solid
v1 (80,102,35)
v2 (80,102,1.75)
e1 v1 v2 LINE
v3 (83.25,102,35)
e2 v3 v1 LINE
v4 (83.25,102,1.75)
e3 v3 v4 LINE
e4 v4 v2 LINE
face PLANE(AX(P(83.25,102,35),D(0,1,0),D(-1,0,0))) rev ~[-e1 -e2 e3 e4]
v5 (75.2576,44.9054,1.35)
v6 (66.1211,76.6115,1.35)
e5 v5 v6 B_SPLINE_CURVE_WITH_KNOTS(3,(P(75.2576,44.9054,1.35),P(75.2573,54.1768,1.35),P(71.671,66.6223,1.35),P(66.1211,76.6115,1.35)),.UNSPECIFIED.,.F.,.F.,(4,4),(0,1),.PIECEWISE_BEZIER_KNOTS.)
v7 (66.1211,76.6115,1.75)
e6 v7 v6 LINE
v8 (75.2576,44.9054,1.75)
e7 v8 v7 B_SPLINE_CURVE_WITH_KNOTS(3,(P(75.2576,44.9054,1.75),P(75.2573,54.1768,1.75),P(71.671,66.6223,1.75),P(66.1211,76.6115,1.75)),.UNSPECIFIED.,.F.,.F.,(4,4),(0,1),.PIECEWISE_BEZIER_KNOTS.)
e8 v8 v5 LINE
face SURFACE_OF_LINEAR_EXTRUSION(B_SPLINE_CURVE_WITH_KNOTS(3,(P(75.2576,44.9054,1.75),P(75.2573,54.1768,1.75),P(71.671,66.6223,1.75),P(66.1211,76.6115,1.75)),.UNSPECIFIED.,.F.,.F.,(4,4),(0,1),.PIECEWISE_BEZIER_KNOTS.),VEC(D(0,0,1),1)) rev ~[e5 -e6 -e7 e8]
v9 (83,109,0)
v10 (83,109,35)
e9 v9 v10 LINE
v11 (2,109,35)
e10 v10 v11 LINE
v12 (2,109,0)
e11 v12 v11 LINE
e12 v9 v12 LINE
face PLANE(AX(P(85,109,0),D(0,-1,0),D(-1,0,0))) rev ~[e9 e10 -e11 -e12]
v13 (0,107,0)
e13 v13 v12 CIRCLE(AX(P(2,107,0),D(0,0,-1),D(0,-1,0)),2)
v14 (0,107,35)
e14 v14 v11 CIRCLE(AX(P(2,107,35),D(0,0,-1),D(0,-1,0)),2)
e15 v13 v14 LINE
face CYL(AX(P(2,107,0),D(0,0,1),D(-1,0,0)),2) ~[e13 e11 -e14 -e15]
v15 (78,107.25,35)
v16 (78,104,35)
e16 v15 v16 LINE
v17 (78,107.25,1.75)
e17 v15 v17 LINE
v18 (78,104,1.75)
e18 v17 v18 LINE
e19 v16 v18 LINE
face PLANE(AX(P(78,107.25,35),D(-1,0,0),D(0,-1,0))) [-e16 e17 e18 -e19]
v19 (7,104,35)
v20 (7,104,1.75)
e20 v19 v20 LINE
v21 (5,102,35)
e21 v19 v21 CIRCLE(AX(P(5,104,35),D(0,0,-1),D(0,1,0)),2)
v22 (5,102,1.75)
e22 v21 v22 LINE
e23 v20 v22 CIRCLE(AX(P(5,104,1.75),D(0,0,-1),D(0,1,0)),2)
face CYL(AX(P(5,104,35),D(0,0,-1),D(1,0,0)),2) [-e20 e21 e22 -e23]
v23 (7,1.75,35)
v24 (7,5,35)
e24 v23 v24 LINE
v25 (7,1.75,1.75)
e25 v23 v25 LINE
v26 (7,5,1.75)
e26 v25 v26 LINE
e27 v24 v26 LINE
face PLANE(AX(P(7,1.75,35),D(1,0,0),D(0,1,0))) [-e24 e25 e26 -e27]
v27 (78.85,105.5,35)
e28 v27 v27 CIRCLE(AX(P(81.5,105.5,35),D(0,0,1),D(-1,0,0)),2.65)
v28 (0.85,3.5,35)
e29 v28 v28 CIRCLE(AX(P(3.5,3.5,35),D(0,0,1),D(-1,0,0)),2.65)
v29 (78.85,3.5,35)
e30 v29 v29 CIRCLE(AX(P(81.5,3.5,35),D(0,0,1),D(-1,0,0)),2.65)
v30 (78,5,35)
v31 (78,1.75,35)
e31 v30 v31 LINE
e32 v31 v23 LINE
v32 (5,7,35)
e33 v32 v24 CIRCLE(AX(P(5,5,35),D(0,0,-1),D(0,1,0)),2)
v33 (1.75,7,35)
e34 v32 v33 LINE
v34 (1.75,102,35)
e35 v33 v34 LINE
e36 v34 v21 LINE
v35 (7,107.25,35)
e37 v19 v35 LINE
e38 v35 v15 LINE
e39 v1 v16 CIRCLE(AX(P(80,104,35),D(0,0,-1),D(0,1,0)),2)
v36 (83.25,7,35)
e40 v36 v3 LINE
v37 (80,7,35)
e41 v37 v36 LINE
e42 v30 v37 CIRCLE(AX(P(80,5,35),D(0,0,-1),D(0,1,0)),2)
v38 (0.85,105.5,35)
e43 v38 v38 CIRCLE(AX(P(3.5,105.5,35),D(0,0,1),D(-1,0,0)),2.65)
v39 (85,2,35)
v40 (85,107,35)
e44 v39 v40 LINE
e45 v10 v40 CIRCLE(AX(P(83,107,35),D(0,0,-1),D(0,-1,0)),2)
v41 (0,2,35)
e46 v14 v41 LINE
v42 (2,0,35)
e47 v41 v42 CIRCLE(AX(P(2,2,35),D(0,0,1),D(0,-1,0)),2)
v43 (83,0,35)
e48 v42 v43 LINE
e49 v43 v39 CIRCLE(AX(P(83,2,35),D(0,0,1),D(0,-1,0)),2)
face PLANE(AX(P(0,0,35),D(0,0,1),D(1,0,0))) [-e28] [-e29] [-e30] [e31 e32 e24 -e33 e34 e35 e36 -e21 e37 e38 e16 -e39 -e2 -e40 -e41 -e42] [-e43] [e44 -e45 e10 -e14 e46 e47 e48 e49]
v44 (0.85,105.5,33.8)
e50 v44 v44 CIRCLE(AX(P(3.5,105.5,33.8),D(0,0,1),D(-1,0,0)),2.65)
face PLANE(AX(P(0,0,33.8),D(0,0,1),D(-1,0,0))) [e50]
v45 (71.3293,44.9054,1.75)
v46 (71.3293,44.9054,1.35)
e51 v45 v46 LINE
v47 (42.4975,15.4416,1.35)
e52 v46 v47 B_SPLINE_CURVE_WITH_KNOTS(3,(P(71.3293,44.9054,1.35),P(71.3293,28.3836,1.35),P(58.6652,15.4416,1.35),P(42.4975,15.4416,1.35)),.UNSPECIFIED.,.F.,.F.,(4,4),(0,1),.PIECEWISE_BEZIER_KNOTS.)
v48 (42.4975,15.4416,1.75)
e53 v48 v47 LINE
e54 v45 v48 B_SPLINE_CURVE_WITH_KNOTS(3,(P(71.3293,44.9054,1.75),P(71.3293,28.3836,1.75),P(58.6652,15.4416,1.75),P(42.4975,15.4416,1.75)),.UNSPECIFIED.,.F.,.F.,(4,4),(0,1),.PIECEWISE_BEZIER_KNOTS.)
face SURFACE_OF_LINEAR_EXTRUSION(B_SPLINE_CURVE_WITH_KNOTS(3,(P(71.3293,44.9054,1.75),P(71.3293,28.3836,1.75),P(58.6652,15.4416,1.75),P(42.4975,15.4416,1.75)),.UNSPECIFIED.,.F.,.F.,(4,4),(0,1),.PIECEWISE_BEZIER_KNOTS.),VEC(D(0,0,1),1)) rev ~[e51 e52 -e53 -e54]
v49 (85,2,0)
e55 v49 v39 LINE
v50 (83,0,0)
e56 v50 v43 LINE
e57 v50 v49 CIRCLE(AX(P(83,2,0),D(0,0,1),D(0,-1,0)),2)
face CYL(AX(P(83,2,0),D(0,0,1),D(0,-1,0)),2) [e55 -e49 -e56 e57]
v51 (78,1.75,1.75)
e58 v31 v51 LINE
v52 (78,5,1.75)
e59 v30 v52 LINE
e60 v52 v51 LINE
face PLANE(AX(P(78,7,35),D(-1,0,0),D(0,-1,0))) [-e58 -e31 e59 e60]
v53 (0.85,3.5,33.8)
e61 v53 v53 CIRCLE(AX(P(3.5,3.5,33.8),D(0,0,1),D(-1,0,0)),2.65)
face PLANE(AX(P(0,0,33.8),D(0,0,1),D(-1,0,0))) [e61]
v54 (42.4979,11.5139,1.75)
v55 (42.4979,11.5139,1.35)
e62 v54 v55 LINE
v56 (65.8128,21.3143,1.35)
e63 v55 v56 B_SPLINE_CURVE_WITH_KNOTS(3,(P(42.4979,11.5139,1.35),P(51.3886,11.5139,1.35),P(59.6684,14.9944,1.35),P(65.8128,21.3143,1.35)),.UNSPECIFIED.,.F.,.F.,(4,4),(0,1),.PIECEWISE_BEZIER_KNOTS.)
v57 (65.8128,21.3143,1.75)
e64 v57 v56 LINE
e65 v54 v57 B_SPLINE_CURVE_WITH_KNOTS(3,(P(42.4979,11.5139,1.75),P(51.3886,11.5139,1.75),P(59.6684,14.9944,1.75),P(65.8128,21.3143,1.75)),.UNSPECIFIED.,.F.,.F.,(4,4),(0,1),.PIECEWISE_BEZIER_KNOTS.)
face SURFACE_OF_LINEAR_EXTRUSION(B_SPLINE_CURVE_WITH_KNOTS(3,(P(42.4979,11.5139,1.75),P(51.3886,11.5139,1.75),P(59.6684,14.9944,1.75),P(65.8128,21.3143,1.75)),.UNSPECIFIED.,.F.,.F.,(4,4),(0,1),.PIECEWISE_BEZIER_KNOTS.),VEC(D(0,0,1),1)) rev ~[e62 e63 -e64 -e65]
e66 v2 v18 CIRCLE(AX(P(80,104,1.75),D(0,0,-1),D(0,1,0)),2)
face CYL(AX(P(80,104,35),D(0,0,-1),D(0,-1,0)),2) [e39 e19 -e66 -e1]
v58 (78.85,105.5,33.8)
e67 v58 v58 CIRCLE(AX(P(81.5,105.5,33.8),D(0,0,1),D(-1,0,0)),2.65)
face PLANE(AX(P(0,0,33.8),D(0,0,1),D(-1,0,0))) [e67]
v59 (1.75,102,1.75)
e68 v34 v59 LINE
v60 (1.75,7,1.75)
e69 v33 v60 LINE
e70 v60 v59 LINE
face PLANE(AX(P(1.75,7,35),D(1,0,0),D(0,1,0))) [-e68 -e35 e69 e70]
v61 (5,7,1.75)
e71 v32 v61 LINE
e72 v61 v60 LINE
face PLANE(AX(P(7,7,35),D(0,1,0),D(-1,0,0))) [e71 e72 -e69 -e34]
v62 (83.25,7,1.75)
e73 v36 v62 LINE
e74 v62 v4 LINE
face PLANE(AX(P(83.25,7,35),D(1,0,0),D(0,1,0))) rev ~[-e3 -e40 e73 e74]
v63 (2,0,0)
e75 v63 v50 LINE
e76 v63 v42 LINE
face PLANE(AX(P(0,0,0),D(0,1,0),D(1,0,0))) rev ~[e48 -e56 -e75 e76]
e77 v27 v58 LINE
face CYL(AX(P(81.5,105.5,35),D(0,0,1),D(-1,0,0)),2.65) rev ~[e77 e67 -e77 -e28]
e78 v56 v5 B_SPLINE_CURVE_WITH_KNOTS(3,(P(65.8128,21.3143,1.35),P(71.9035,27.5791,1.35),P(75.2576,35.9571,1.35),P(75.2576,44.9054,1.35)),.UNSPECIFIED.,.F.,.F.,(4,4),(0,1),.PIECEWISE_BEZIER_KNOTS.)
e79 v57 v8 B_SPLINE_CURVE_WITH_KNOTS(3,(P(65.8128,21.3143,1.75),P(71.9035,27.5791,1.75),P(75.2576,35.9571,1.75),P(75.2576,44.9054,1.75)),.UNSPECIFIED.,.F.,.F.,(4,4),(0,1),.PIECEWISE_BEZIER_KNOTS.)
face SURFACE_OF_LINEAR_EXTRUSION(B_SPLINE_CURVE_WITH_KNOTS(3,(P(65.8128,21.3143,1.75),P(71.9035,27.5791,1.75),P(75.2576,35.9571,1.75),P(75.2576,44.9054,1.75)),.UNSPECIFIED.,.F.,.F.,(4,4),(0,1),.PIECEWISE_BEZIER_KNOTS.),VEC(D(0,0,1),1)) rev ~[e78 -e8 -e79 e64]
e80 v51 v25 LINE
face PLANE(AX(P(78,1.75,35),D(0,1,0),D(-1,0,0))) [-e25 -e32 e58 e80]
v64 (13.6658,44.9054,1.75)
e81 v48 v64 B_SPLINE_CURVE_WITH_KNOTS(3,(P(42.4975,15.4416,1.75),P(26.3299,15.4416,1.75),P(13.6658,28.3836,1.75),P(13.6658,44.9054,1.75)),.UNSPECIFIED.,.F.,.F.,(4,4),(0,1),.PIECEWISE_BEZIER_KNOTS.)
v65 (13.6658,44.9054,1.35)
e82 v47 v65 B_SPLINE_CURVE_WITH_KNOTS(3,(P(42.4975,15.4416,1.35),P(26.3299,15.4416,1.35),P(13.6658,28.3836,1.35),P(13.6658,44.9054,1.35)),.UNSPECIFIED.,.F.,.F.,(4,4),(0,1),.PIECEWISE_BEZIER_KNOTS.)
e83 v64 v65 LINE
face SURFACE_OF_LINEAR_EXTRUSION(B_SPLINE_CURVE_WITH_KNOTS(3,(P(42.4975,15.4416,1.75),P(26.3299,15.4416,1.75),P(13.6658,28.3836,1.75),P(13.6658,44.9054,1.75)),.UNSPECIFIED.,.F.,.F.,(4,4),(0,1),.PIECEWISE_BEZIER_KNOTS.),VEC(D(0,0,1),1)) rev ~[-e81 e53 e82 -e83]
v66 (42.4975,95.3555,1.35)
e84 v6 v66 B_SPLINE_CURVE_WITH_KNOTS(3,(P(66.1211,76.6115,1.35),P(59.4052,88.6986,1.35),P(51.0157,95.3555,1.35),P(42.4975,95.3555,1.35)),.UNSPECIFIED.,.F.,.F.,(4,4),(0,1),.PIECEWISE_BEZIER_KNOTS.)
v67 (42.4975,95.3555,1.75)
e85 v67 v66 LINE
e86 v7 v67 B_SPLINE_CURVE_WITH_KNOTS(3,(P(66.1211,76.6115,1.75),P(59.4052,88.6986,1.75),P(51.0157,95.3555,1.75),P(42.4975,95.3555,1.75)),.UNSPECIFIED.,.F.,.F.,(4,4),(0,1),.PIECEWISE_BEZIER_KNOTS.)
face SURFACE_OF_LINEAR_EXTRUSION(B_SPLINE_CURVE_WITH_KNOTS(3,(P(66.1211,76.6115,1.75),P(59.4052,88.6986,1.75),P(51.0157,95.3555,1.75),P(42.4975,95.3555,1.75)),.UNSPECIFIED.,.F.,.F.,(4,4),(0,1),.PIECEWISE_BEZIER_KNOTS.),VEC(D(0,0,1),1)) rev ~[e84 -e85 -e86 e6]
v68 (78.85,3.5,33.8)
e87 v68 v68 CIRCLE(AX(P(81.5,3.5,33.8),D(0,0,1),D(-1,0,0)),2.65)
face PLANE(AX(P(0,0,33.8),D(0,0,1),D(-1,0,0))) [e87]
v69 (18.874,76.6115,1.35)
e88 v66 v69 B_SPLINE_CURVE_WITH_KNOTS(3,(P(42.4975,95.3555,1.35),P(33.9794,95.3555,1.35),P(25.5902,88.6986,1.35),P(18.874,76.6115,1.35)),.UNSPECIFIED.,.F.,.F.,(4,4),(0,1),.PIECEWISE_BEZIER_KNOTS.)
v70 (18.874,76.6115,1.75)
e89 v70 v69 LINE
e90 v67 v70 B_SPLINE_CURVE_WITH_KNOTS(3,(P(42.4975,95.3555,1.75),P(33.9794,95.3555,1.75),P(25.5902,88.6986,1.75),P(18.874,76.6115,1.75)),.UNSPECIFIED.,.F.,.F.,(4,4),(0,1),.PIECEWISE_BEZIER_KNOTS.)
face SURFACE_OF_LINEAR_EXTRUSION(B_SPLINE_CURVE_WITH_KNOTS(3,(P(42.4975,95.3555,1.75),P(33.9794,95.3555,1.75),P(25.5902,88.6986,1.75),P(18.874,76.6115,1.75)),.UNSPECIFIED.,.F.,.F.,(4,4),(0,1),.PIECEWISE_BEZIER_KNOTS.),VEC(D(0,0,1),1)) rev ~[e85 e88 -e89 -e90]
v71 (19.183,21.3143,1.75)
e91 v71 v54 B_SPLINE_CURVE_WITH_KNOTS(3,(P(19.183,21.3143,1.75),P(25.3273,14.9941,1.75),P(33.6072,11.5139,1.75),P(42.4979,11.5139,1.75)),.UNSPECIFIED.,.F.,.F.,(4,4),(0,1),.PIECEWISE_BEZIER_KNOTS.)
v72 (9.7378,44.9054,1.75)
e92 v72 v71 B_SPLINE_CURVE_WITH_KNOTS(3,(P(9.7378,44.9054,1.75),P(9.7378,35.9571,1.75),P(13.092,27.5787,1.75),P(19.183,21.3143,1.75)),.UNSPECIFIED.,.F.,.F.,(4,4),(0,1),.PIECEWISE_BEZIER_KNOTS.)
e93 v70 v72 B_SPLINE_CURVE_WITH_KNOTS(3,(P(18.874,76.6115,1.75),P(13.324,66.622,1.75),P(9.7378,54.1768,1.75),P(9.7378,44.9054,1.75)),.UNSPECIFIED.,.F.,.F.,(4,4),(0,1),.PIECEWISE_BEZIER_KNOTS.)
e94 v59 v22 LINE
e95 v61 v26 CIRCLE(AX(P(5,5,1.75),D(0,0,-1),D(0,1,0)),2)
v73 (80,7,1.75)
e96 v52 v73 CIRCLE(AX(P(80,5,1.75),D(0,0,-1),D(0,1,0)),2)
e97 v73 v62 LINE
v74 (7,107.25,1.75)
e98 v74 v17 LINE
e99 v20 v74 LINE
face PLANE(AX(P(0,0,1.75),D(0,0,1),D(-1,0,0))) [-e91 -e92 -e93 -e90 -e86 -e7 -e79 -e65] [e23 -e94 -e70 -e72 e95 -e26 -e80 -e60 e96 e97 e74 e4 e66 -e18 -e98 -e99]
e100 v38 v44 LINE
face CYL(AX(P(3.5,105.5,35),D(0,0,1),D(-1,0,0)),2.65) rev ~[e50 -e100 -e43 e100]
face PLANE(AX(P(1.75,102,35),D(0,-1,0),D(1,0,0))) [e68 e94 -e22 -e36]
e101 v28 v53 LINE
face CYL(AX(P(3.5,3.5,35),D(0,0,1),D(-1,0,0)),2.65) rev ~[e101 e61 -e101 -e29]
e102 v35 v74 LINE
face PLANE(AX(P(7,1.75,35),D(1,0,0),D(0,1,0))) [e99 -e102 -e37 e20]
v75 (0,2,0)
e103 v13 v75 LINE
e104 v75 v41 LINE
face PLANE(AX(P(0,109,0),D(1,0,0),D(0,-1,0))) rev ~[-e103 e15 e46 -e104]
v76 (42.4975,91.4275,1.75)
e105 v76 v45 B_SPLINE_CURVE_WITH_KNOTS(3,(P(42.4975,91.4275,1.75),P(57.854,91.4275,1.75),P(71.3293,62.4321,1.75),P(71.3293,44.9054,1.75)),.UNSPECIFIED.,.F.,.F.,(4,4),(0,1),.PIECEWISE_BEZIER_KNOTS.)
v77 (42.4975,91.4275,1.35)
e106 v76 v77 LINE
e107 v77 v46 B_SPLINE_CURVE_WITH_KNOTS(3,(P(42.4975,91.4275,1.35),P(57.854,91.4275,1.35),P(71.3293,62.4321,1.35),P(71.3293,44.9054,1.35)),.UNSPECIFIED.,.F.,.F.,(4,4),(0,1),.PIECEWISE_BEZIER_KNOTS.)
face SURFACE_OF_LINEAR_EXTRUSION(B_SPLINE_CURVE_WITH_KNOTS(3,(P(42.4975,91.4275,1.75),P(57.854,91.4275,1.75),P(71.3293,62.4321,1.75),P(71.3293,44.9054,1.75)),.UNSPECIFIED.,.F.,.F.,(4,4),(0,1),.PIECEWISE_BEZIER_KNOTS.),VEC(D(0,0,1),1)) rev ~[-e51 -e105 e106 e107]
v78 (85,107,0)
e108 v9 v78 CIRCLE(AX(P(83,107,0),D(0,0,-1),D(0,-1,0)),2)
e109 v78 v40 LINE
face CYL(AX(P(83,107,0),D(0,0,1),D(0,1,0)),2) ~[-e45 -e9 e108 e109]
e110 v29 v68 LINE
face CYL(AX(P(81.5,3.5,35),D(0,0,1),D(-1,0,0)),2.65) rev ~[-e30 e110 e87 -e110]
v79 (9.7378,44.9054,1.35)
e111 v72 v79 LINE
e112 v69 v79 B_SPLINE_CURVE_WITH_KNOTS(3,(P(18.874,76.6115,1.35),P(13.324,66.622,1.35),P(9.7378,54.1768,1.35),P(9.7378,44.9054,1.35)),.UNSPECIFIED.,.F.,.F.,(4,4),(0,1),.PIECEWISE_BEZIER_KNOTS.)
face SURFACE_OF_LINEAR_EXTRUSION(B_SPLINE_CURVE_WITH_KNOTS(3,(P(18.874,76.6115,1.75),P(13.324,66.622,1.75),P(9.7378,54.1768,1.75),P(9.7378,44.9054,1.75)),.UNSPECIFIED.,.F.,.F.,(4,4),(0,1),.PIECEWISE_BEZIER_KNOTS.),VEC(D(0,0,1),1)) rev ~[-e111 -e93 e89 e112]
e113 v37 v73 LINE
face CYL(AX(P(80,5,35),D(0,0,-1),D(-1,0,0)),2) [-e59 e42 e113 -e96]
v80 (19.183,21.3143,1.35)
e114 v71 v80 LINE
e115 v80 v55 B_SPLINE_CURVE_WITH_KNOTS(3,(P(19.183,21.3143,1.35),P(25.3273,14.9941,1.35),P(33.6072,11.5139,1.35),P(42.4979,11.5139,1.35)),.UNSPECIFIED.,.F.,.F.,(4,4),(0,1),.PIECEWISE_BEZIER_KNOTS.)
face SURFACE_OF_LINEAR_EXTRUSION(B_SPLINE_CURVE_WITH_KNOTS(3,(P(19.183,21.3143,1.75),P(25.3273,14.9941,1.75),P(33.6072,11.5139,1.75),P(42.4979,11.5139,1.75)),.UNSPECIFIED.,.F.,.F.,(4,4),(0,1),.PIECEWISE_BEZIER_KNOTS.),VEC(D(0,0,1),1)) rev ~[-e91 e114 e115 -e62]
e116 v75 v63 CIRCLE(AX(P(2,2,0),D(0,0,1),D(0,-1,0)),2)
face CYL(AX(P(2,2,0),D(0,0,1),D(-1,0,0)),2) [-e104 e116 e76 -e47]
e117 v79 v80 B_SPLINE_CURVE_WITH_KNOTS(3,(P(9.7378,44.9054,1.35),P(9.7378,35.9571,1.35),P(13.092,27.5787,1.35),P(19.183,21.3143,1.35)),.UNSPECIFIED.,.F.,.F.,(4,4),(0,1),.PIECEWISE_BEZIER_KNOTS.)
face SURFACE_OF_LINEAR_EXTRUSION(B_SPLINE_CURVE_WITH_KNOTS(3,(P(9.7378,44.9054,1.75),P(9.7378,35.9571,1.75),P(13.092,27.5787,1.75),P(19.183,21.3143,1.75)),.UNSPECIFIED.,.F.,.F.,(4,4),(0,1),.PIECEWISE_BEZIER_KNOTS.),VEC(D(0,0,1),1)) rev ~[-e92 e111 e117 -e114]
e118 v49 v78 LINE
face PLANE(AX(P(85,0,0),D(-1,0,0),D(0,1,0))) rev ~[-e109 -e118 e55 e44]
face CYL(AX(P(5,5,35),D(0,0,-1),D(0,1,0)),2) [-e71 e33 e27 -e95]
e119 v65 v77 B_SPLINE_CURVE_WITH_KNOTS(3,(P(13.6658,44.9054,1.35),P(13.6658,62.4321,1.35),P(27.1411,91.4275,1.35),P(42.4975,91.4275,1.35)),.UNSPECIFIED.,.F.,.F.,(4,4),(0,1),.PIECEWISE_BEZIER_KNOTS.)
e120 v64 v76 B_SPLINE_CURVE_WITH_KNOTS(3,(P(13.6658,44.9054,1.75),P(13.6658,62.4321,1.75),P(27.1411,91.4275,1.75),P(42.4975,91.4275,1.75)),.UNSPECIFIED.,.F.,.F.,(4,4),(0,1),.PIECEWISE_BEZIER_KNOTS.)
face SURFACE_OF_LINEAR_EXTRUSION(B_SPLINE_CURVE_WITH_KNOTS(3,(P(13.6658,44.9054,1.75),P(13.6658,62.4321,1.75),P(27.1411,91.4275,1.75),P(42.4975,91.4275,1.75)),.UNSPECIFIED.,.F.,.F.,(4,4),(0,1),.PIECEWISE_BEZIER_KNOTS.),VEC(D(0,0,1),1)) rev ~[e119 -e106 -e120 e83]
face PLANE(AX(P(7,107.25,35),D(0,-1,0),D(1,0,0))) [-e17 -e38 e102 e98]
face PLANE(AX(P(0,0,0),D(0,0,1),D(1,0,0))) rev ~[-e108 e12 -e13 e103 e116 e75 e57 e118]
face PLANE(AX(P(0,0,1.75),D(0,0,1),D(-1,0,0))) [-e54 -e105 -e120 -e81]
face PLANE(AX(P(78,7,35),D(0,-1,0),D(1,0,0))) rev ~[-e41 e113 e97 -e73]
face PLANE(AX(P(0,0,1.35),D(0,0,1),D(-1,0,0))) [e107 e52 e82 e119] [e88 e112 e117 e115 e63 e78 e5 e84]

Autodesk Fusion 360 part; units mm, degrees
sketch "Skizze1" plane through (0, 0, 0) normal (0, 0, 1) x (1, 0, 0)
  line L0 (0, 0) -> (85, 0)
  line L1 (85, 0) -> (85, 109)
  line L2 (85, 109) -> (0, 109)
  line L3 (0, 109) -> (0, 0)
  dimension "d1" = 85
  dimension "d2" = 109
extrude "Extrusion16" add sketch "Skizze1" along normal blind 35
sketch "Skizze17" plane through (0, 0, 35) normal (0, 0, 1) x (-1, 0, 0)
  line L0 (0, -109) -> (0, 0)
  line L1 (0, 0) -> (-85, 0)
  line L2 (-85, 0) -> (-85, -109)
  line L3 (-85, -109) -> (0, -109)
  line L4 (0, -109) -> (-7, -109)
  line L5 (-7, -109) -> (-7, -102)
  line L6 (-7, -102) -> (0, -102)
  line L7 (0, -102) -> (0, -109)
  line L8 (-85, -109) -> (-78, -109)
  line L9 (-78, -109) -> (-78, -102)
  line L10 (-78, -102) -> (-85, -102)
  line L11 (-85, -102) -> (-85, -109)
  line L12 (0, 0) -> (-7, 0)
  line L13 (-7, 0) -> (-7, -7)
  line L14 (-7, -7) -> (0, -7)
  line L15 (0, -7) -> (0, 0)
  line L16 (-85, 0) -> (-78, 0)
  line L17 (-78, 0) -> (-78, -7)
  line L18 (-78, -7) -> (-85, -7)
  line L19 (-85, -7) -> (-85, 0)
  circle A0 centre (-3.5, -105.5) radius 2.65
  circle A1 centre (-81.5, -105.5) radius 2.65
  circle A2 centre (-81.5, -3.5) radius 2.65
  circle A3 centre (-3.5, -3.5) radius 2.65
  dimension "d148" = 7
  dimension "d149" = 7
  dimension "d150" = 7
  dimension "d151" = 7
  dimension "d152" = 7
  dimension "d153" = 7
  dimension "d154" = 7
  dimension "d155" = 7
  dimension "d156" = 5.3
  dimension "d157" = 5.3
  dimension "d158" = 5.3
  dimension "d159" = 5.3
  dimension "d160" = 3.5
  dimension "d161" = 3.5
  dimension "d162" = 3.5
  dimension "d163" = 3.5
  dimension "d164" = 3.5
  dimension "d165" = 3.5
  dimension "d166" = 3.5
  dimension "d167" = 3.5
sketch "Skizze18" plane through (0, 0, 35) normal (0, 0, 1) x (-1, 0, 0)
  line L0 (-78, -1.75) -> (-7, -1.75)
  line L1 (-7, -1.75) -> (-7, -107.25)
  line L2 (-7, -107.25) -> (-78, -107.25)
  line L3 (-78, -107.25) -> (-78, -1.75)
  line L4 (0, -109) -> (0, 0)
  line L5 (-78, 0) -> (-78, -7)
  line L6 (-85, 0) -> (-85, -109)
  line L7 (0, 0) -> (-85, 0)
  line L8 (-85, -109) -> (0, -109)
  dimension "d168" = 7
  dimension "d170" = 7
  dimension "d171" = 1.75
  dimension "d172" = 1.75
sketch "Skizze19" plane through (0, 0, 35) normal (0, 0, 1) x (-1, 0, 0)
  line L0 (-7, -7) -> (-1.75, -7)
  line L1 (-1.75, -7) -> (-1.75, -102)
  line L2 (-1.75, -102) -> (-7, -102)
  line L3 (-7, -102) -> (-7, -7)
  line L4 (0, 0) -> (-7, 0)
  line L5 (0, -109) -> (-7, -109)
  line L6 (0, -109) -> (0, 0)
  line L7 (-78, -7) -> (-83.25, -7)
  line L8 (-83.25, -7) -> (-83.25, -102)
  line L9 (-83.25, -102) -> (-78, -102)
  line L10 (-78, -102) -> (-78, -7)
  line L11 (-85, 0) -> (-85, -109)
  line L12 (-85, -109) -> (-78, -109)
  line L13 (-85, 0) -> (-78, 0)
  dimension "d174" = 7
  dimension "d175" = 7
  dimension "d176" = 7
  dimension "d177" = 1.75
  dimension "d178" = 1.75
  dimension "d179" = 7
  dimension "d180" = 7
  dimension "d181" = 7
extrude "Extrusion17" cut sketch "Skizze17" against normal blind 1.2 contours A0 | A1 | A2 | A3
extrude "Extrusion18" cut sketch "Skizze18" sketch "Skizze19" against normal blind 33.25 contours L0 L1 L2 L3 L5 of sketch 2
fillet "Abrundung5" radius 2 8 edges at (7, 102, 18.375) (78, 102, 18.375) (78, 7, 18.375) (7, 7, 18.375) (85, 109, 17.5) (0, 109, 17.5) (0, 0, 17.5) (85, 0, 17.5)
sketch "Skizze20" plane through (0, 0, 1.75) normal (0, 0, 1) x (-1, 0, 0)
  line L0 (-78, -104) -> (-78, -107.25)
  line L1 (-78, -107.25) -> (-7, -107.25)
  line L2 (-7, -107.25) -> (-7, -104)
  arc A0 (-5, -102) -> (-7, -104) centre (-5, -104) ccw
  line L3 (-5, -102) -> (-1.75, -102)
  line L4 (-1.75, -102) -> (-1.75, -7)
  line L5 (-1.75, -7) -> (-5, -7)
  arc A1 (-7, -5) -> (-5, -7) centre (-5, -5) ccw
  line L6 (-7, -5) -> (-7, -1.75)
  line L7 (-7, -1.75) -> (-78, -1.75)
  line L8 (-78, -1.75) -> (-78, -5)
  arc A2 (-80, -7) -> (-78, -5) centre (-80, -5) ccw
  line L9 (-80, -7) -> (-83.25, -7)
  line L10 (-83.25, -7) -> (-83.25, -102)
  line L11 (-83.25, -102) -> (-80, -102)
  arc A3 (-78, -104) -> (-80, -102) centre (-80, -104) ccw
  spline S0 degree 3 poles (-66.1211, -76.6115) (-59.4052, -88.6986) (-51.0157, -95.3555) (-42.4975, -95.3555) knots 0 0 0 0 1 1 1 1
  spline S1 degree 3 poles (-42.4975, -95.3555) (-33.9794, -95.3555) (-25.5902, -88.6986) (-18.874, -76.6115) knots 0 0 0 0 1 1 1 1
  spline S2 degree 3 poles (-18.874, -76.6115) (-13.324, -66.622) (-9.7378, -54.1768) (-9.7378, -44.9054) knots 0 0 0 0 1 1 1 1
  spline S3 degree 3 poles (-9.7378, -44.9054) (-9.7378, -35.9571) (-13.092, -27.5787) (-19.183, -21.3143) knots 0 0 0 0 1 1 1 1
  spline S4 degree 3 poles (-19.183, -21.3143) (-25.3273, -14.9941) (-33.6072, -11.5139) (-42.4979, -11.5139) knots 0 0 0 0 1 1 1 1
  spline S5 degree 3 poles (-42.4979, -11.5139) (-51.3886, -11.5139) (-59.6684, -14.9944) (-65.8128, -21.3143) knots 0 0 0 0 1 1 1 1
  spline S6 degree 3 poles (-65.8128, -21.3143) (-71.9035, -27.5791) (-75.2576, -35.9571) (-75.2576, -44.9054) knots 0 0 0 0 1 1 1 1
  spline S7 degree 3 poles (-75.2576, -44.9054) (-75.2573, -54.1768) (-71.671, -66.6223) (-66.1211, -76.6115) knots 0 0 0 0 1 1 1 1
  spline S8 degree 3 poles (-42.4975, -15.4416) (-26.3299, -15.4416) (-13.6658, -28.3836) (-13.6658, -44.9054) knots 0 0 0 0 1 1 1 1
  spline S9 degree 3 poles (-13.6658, -44.9054) (-13.6658, -62.4321) (-27.1411, -91.4275) (-42.4975, -91.4275) knots 0 0 0 0 1 1 1 1
  spline S10 degree 3 poles (-42.4975, -91.4275) (-57.854, -91.4275) (-71.3293, -62.4321) (-71.3293, -44.9054) knots 0 0 0 0 1 1 1 1
  spline S11 degree 3 poles (-71.3293, -44.9054) (-71.3293, -28.3836) (-58.6652, -15.4416) (-42.4975, -15.4416) knots 0 0 0 0 1 1 1 1
extrude "Extrusion19" cut sketch "Skizze20" against normal blind 0.4 contours S0 S1 S2 S3 S4 S5 S6 S7
extrude "Extrusion9" [suppressed]
sketch "Skizze14" plane through (0, 0, 35) normal (0, 0, 1) x (-1, 0, 0)
  line L0 (0, -115) -> (0, 0)
  line L1 (0, 0) -> (-85, 0)
  line L2 (-85, 0) -> (-85, -115)
  line L3 (-85, -115) -> (0, -115)
  line L4 (0, -115) -> (-7, -115)
  line L5 (-7, -115) -> (-7, -108)
  line L6 (-7, -108) -> (0, -108)
  line L7 (0, -108) -> (0, -115)
  line L8 (-85, -115) -> (-78, -115)
  line L9 (-78, -115) -> (-78, -108)
  line L10 (-78, -108) -> (-85, -108)
  line L11 (-85, -108) -> (-85, -115)
  line L12 (0, 0) -> (-7, 0)
  line L13 (-7, 0) -> (-7, -7)
  line L14 (-7, -7) -> (0, -7)
  line L15 (0, -7) -> (0, 0)
  line L16 (-85, 0) -> (-78, 0)
  line L17 (-78, 0) -> (-78, -7)
  line L18 (-78, -7) -> (-85, -7)
  line L19 (-85, -7) -> (-85, 0)
  circle A0 centre (-3.5, -111.5) radius 2.65
  circle A1 centre (-81.5, -111.5) radius 2.65
  circle A2 centre (-81.5, -3.5) radius 2.65
  circle A3 centre (-3.5, -3.5) radius 2.65
  dimension "d104" = 7
  dimension "d105" = 7
  dimension "d106" = 7
  dimension "d107" = 7
  dimension "d108" = 7
  dimension "d109" = 7
  dimension "d110" = 7
  dimension "d111" = 7
  dimension "d112" = 5.3
  dimension "d113" = 5.3
  dimension "d114" = 5.3
  dimension "d115" = 5.3
  dimension "d116" = 3.5
  dimension "d117" = 3.5
  dimension "d118" = 3.5
  dimension "d119" = 3.5
  dimension "d120" = 3.5
  dimension "d121" = 3.5
  dimension "d122" = 3.5
  dimension "d123" = 3.5
sketch "Skizze15" plane through (0, 0, 35) normal (0, 0, 1) x (-1, 0, 0)
  line L0 (-78, -113.25) -> (-7, -113.25)
  line L1 (-7, -113.25) -> (-7, -1.75)
  line L2 (-7, -1.75) -> (-78, -1.75)
  line L3 (-78, -1.75) -> (-78, -113.25)
  line L4 (0, 0) -> (-85, 0)
  line L5 (0, -115) -> (0, 0)
  line L6 (-85, -115) -> (0, -115)
  line L7 (-85, 0) -> (-85, -115)
  line L8 (-78, -108) -> (-83.25, -108)
  line L9 (-83.25, -108) -> (-83.25, -7)
  line L10 (-83.25, -7) -> (-78, -7)
  line L11 (-78, -7) -> (-78, -108)
  line L12 (-85, 0) -> (-78, 0)
  line L13 (-85, -115) -> (-78, -115)
  line L14 (-7, -108) -> (-1.75, -108)
  line L15 (-1.75, -108) -> (-1.75, -7)
  line L16 (-1.75, -7) -> (-7, -7)
  line L17 (-7, -7) -> (-7, -108)
  line L18 (-7, -7) -> (0, -7)
  line L19 (0, 0) -> (-7, 0)
  line L20 (0, -115) -> (-7, -115)
  dimension "d124" = 1.75
  dimension "d125" = 7
  dimension "d126" = 1.75
  dimension "d127" = 7
  dimension "d128" = 1.75
  dimension "d129" = 7
  dimension "d130" = 7
  dimension "d133" = 1.75
  dimension "d134" = 7
  dimension "d135" = 7
extrude "Extrusion13" [suppressed]
extrude "Extrusion14" [suppressed]
sketch "Skizze16" plane through (0, 0, 1.75) normal (0, 0, 1) x (-1, 0, 0)
  line L0 (-7, -1.75) -> (-78, -1.75)
  line L1 (-78, -1.75) -> (-78, -7)
  line L2 (-78, -7) -> (-83.25, -7)
  line L3 (-83.25, -7) -> (-83.25, -108)
  line L4 (-83.25, -108) -> (-78, -108)
  line L5 (-78, -108) -> (-78, -113.25)
  line L6 (-78, -113.25) -> (-7, -113.25)
  line L7 (-7, -113.25) -> (-7, -108)
  line L8 (-7, -108) -> (-1.75, -108)
  line L9 (-1.75, -108) -> (-1.75, -7)
  line L10 (-1.75, -7) -> (-7, -7)
  line L11 (-7, -7) -> (-7, -1.75)
  spline S0 degree 3 poles (-64.8008, -78.3152) (-58.6523, -89.381) (-50.9717, -95.4755) (-43.1733, -95.4755) knots 0 0 0 0 1 1 1 1
  spline S1 degree 3 poles (-43.1733, -95.4755) (-35.3749, -95.4755) (-27.6945, -89.381) (-21.5458, -78.3152) knots 0 0 0 0 1 1 1 1
  spline S2 degree 3 poles (-21.5458, -78.3152) (-16.4648, -69.1698) (-13.1816, -57.7762) (-13.1816, -49.2882) knots 0 0 0 0 1 1 1 1
  spline S3 degree 3 poles (-13.1816, -49.2882) (-13.1816, -41.096) (-16.2524, -33.4256) (-21.8287, -27.6904) knots 0 0 0 0 1 1 1 1
  spline S4 degree 3 poles (-21.8287, -27.6904) (-27.4539, -21.9043) (-35.0341, -18.7182) (-43.1736, -18.7182) knots 0 0 0 0 1 1 1 1
  spline S5 degree 3 poles (-43.1736, -18.7182) (-51.313, -18.7182) (-58.8933, -21.9046) (-64.5185, -27.6904) knots 0 0 0 0 1 1 1 1
  spline S6 degree 3 poles (-64.5185, -27.6904) (-70.0945, -33.4259) (-73.1653, -41.096) (-73.1653, -49.2882) knots 0 0 0 0 1 1 1 1
  spline S7 degree 3 poles (-73.1653, -49.2882) (-73.165, -57.7762) (-69.8817, -69.1701) (-64.8008, -78.3152) knots 0 0 0 0 1 1 1 1
  spline S8 degree 3 poles (-43.1733, -22.3139) (-28.3718, -22.3139) (-16.7777, -34.1625) (-16.7777, -49.2882) knots 0 0 0 0 1 1 1 1
  spline S9 degree 3 poles (-16.7777, -49.2882) (-16.7777, -65.334) (-29.1144, -91.8794) (-43.1733, -91.8794) knots 0 0 0 0 1 1 1 1
  spline S10 degree 3 poles (-43.1733, -91.8794) (-57.2322, -91.8794) (-69.5689, -65.334) (-69.5689, -49.2882) knots 0 0 0 0 1 1 1 1
  spline S11 degree 3 poles (-69.5689, -49.2882) (-69.5689, -34.1625) (-57.9748, -22.3139) (-43.1733, -22.3139) knots 0 0 0 0 1 1 1 1
extrude "Extrusion15" [suppressed]
fillet "Abrundung3" [suppressed]
fillet "Abrundung4" [suppressed]
sketch "Skizze11" plane through (0, 0, 35) normal (0, 0, 1) x (-1, 0, 0)
  line L0 (0, -115) -> (0, 0)
  line L1 (0, 0) -> (-85, 0)
  line L2 (-85, 0) -> (-85, -115)
  line L3 (-85, -115) -> (0, -115)
  line L4 (0, -115) -> (-7, -115)
  line L5 (-7, -115) -> (-7, -108)
  line L6 (-7, -108) -> (0, -108)
  line L7 (0, -108) -> (0, -115)
  line L8 (-85, -115) -> (-78, -115)
  line L9 (-78, -115) -> (-78, -108)
  line L10 (-78, -108) -> (-85, -108)
  line L11 (-85, -108) -> (-85, -115)
  line L12 (0, 0) -> (-7, 0)
  line L13 (-7, 0) -> (-7, -7)
  line L14 (-7, -7) -> (0, -7)
  line L15 (0, -7) -> (0, 0)
  line L16 (-85, 0) -> (-78, 0)
  line L17 (-78, 0) -> (-78, -7)
  line L18 (-78, -7) -> (-85, -7)
  line L19 (-85, -7) -> (-85, 0)
  circle A0 centre (-3.5, -3.5) radius 2.65
  circle A1 centre (-81.5, -3.5) radius 2.65
  circle A2 centre (-3.5, -111.5) radius 2.65
  circle A3 centre (-81.5, -111.5) radius 2.65
  dimension "d65" = 7
  dimension "d66" = 7
  dimension "d67" = 7
  dimension "d68" = 7
  dimension "d69" = 7
  dimension "d70" = 7
  dimension "d71" = 7
  dimension "d72" = 7
  dimension "d73" = 5.3
  dimension "d74" = 5.3
  dimension "d75" = 5.3
  dimension "d76" = 5.3
  dimension "d77" = 3.5
  dimension "d78" = 3.5
  dimension "d79" = 3.5
  dimension "d80" = 3.5
  dimension "d81" = 3.5
  dimension "d82" = 3.5
  dimension "d83" = 3.5
  dimension "d84" = 3.5
sketch "Skizze12" plane through (0, 0, 35) normal (0, 0, 1) x (-1, 0, 0)
  line L0 (-78, -1.75) -> (-7, -1.75)
  line L1 (-7, -1.75) -> (-7, -113.25)
  line L2 (-7, -113.25) -> (-78, -113.25)
  line L3 (-78, -113.25) -> (-78, -1.75)
  line L4 (-85, -115) -> (0, -115)
  line L5 (0, 0) -> (-85, 0)
  line L6 (0, -115) -> (0, 0)
  line L7 (-85, 0) -> (-85, -115)
  line L8 (-78, -7) -> (-83.25, -7)
  line L9 (-83.25, -7) -> (-83.25, -108)
  line L10 (-83.25, -108) -> (-78, -108)
  line L11 (-78, -108) -> (-78, -7)
  line L12 (-85, -115) -> (-78, -115)
  line L13 (-85, 0) -> (-78, 0)
  line L14 (-7, -7.2335) -> (-1.75, -7.2335)
  line L15 (-1.75, -7.2335) -> (-1.75, -108)
  line L16 (-1.75, -108) -> (-7, -108)
  line L17 (-7, -108) -> (-7, -7.2335)
  line L18 (-7, -108) -> (0, -108)
  line L19 (0, -115) -> (-7, -115)
  dimension "d85" = 1.75
  dimension "d86" = 1.75
  dimension "d87" = 7
  dimension "d88" = 7
  dimension "d89" = 7
  dimension "d90" = 7
  dimension "d91" = 1.75
  dimension "d92" = 1.75
  dimension "d93" = 7
extrude "Extrusion10" [suppressed]
extrude "Extrusion11" [suppressed]
sketch "Skizze13" plane through (0, 0, 6.75) normal (0, 0, 1) x (-1, 0, 0)
  line L0 (-7, -113.25) -> (-7, -108)
  line L1 (-7, -108) -> (-1.75, -108)
  line L2 (-1.75, -108) -> (-1.75, -7.2335)
  line L3 (-1.75, -7.2335) -> (-7, -7.2335)
  line L4 (-7, -7.2335) -> (-7, -1.75)
  line L5 (-7, -1.75) -> (-78, -1.75)
  line L6 (-78, -1.75) -> (-78, -7)
  line L7 (-78, -7) -> (-83.25, -7)
  line L8 (-83.25, -7) -> (-83.25, -108)
  line L9 (-83.25, -108) -> (-78, -108)
  line L10 (-78, -108) -> (-78, -113.25)
  line L11 (-78, -113.25) -> (-7, -113.25)
  spline S0 degree 3 poles (-61.8748, -78.6389) (-56.1896, -88.8708) (-49.0877, -94.5061) (-41.8769, -94.5061) knots 0 0 0 0 1 1 1 1
  spline S1 degree 3 poles (-41.8769, -94.5061) (-34.6661, -94.5061) (-27.5645, -88.8708) (-21.8791, -78.6389) knots 0 0 0 0 1 1 1 1
  spline S2 degree 3 poles (-21.8791, -78.6389) (-17.1809, -70.1825) (-14.1451, -59.6474) (-14.1451, -51.799) knots 0 0 0 0 1 1 1 1
  spline S3 degree 3 poles (-14.1451, -51.799) (-14.1451, -44.2241) (-16.9845, -37.1316) (-22.1406, -31.8286) knots 0 0 0 0 1 1 1 1
  spline S4 degree 3 poles (-22.1406, -31.8286) (-27.342, -26.4785) (-34.3511, -23.5325) (-41.8772, -23.5325) knots 0 0 0 0 1 1 1 1
  spline S5 degree 3 poles (-41.8772, -23.5325) (-49.4033, -23.5325) (-56.4124, -26.4788) (-61.6137, -31.8286) knots 0 0 0 0 1 1 1 1
  spline S6 degree 3 poles (-61.6137, -31.8286) (-66.7696, -37.1319) (-69.609, -44.2241) (-69.609, -51.799) knots 0 0 0 0 1 1 1 1
  spline S7 degree 3 poles (-69.609, -51.799) (-69.6087, -59.6474) (-66.5729, -70.1828) (-61.8748, -78.6389) knots 0 0 0 0 1 1 1 1
  spline S8 degree 3 poles (-41.8769, -26.8573) (-28.1907, -26.8573) (-17.4702, -37.813) (-17.4702, -51.799) knots 0 0 0 0 1 1 1 1
  spline S9 degree 3 poles (-17.4702, -51.799) (-17.4702, -66.6357) (-28.8773, -91.181) (-41.8769, -91.181) knots 0 0 0 0 1 1 1 1
  spline S10 degree 3 poles (-41.8769, -91.181) (-54.8765, -91.181) (-66.2836, -66.6357) (-66.2836, -51.799) knots 0 0 0 0 1 1 1 1
  spline S11 degree 3 poles (-66.2836, -51.799) (-66.2836, -37.813) (-55.5631, -26.8573) (-41.8769, -26.8573) knots 0 0 0 0 1 1 1 1
extrude "Extrusion12" [suppressed]
fillet "Abrundung1" [suppressed]
fillet "Abrundung2" [suppressed]
extrude "Extrusion1" [suppressed]
sketch "Skizze2" plane through (0, 0, 30) normal (0, 0, 1) x (-1, 0, 0)
  line L0 (0, -115) -> (0, 0)
  line L1 (0, 0) -> (-85, 0)
  line L2 (-85, 0) -> (-85, -115)
  line L3 (-85, -115) -> (0, -115)
  line L4 (0, -115) -> (-7, -115)
  line L5 (-7, -115) -> (-7, -108)
  line L6 (-7, -108) -> (0, -108)
  line L7 (0, -108) -> (0, -115)
  line L8 (-85, -115) -> (-78, -115)
  line L9 (-78, -115) -> (-78, -108)
  line L10 (-78, -108) -> (-85, -108)
  line L11 (-85, -108) -> (-85, -115)
  line L12 (-85, 0) -> (-78, 0)
  line L13 (-78, 0) -> (-78, -7)
  line L14 (-78, -7) -> (-85, -7)
  line L15 (-85, -7) -> (-85, 0)
  line L16 (0, 0) -> (-7, 0)
  line L17 (-7, 0) -> (-7, -7)
  line L18 (-7, -7) -> (0, -7)
  line L19 (0, -7) -> (0, 0)
  circle A0 centre (-3.5, -3.5) radius 2.65
  circle A1 centre (-81.5, -3.5) radius 2.65
  circle A2 centre (-81.5, -111.5) radius 2.65
  circle A3 centre (-3.5, -111.5) radius 2.65
  dimension "d5" = 7
  dimension "d6" = 7
  dimension "d7" = 7
  dimension "d8" = 7
  dimension "d9" = 7
  dimension "d10" = 7
  dimension "d11" = 7
  dimension "d12" = 7
  dimension "d13" = 5.3
  dimension "d14" = 5.3
  dimension "d15" = 5.3
  dimension "d16" = 5.3
  dimension "d17" = 3.5
  dimension "d18" = 3.5
  dimension "d19" = 3.5
  dimension "d20" = 3.5
  dimension "d21" = 3.5
  dimension "d22" = 3.5
  dimension "d23" = 3.5
  dimension "d24" = 3.5
sketch "Skizze3" plane through (0, 0, 30) normal (0, 0, 1) x (-1, 0, 0)
  line L0 (-78, -1.75) -> (-7, -1.75)
  line L1 (-7, -1.75) -> (-7, -113.25)
  line L2 (-7, -113.25) -> (-78, -113.25)
  line L3 (-78, -113.25) -> (-78, -1.75)
  line L4 (0, 0) -> (-85, 0)
  line L5 (-85, -115) -> (0, -115)
  line L6 (-78, -115) -> (-78, -108)
  line L7 (-85, 0) -> (-85, -115)
  line L8 (0, -115) -> (0, 0)
  dimension "d25" = 1.75
  dimension "d26" = 1.75
  dimension "d28" = 7
  dimension "d29" = 7
extrude "Extrusion2" [suppressed]
sketch "Skizze5" plane through (0, 0, 30) normal (0, 0, 1) x (-1, 0, 0)
  line L0 (-78, -1.75) -> (-7, -1.75)
  line L1 (-7, -1.75) -> (-7, -113.25)
  line L2 (-7, -113.25) -> (-78, -113.25)
  line L3 (-78, -113.25) -> (-78, -1.75)
  line L4 (0, -115) -> (0, 0)
  line L5 (0, 0) -> (-85, 0)
  line L6 (-85, 0) -> (-85, -115)
  line L7 (-85, -115) -> (0, -115)
  line L8 (-7, -108) -> (-1.75, -108)
  line L9 (-1.75, -108) -> (-1.75, -22)
  line L10 (-1.75, -22) -> (-7, -22)
  line L11 (-7, -22) -> (-7, -108)
  line L12 (0, -115) -> (0, 0)
  line L13 (0, -115) -> (-7, -115)
  dimension "d33" = 1.75
  dimension "d34" = 86
  dimension "d35" = 7
sketch "Skizze6" plane through (0, 0, 30) normal (0, 0, 1) x (-1, 0, 0)
  line L0 (-7, -7) -> (-1.75, -7)
  line L1 (-1.75, -7) -> (-1.75, -93)
  line L2 (-1.75, -93) -> (-7, -93)
  line L3 (-7, -93) -> (-7, -7)
  line L4 (0, -115) -> (0, 0)
  line L5 (0, 0) -> (-7, 0)
  line L6 (-78, -22) -> (-83.25, -22)
  line L7 (-83.25, -22) -> (-83.25, -108)
  line L8 (-83.25, -108) -> (-78, -108)
  line L9 (-78, -108) -> (-78, -22)
  line L10 (-85, 0) -> (-85, -115)
  line L11 (-85, -115) -> (-78, -115)
  line L12 (-78, -7) -> (-85, -7)
  line L13 (-85, 0) -> (-78, 0)
  dimension "d36" = 86
  dimension "d37" = 1.75
  dimension "d38" = 7
  dimension "d39" = 7
  dimension "d44" = 1.75
  dimension "d45" = 7
  dimension "d47" = 86
  dimension "d48" = 7
extrude "Extrusion3" [suppressed]
extrude "Extrusion4" [suppressed]
extrude "Extrusion5" [suppressed]
sketch "Skizze7" plane through (0, 0, 1.75) normal (0, 0, 1) x (-1, 0, 0)
  line L0 (-7, -7) -> (-7, -1.75)
  line L1 (-7, -1.75) -> (-78, -1.75)
  line L2 (-78, -1.75) -> (-78, -22)
  line L3 (-78, -22) -> (-83.25, -22)
  line L4 (-83.25, -22) -> (-83.25, -108)
  line L5 (-83.25, -108) -> (-78, -108)
  line L6 (-78, -108) -> (-78, -113.25)
  line L7 (-78, -113.25) -> (-7, -113.25)
  line L8 (-7, -113.25) -> (-7, -93)
  line L9 (-7, -93) -> (-1.75, -93)
  line L10 (-1.75, -93) -> (-1.75, -7)
  line L11 (-1.75, -7) -> (-7, -7)
  spline S0 degree 3 poles (-57.2282, -66.5179) (-52.2019, -75.5641) (-45.9231, -80.5463) (-39.5479, -80.5463) knots 0 0 0 0 1 1 1 1
  spline S1 degree 3 poles (-39.5479, -80.5463) (-33.1727, -80.5463) (-26.8941, -75.5641) (-21.8675, -66.5179) knots 0 0 0 0 1 1 1 1
  spline S2 degree 3 poles (-21.8675, -66.5179) (-17.7139, -59.0415) (-15.0298, -49.7273) (-15.0298, -42.7885) knots 0 0 0 0 1 1 1 1
  spline S3 degree 3 poles (-15.0298, -42.7885) (-15.0298, -36.0914) (-17.5402, -29.8208) (-22.0988, -25.1324) knots 0 0 0 0 1 1 1 1
  spline S4 degree 3 poles (-22.0988, -25.1324) (-26.6973, -20.4022) (-32.8942, -17.7976) (-39.5481, -17.7976) knots 0 0 0 0 1 1 1 1
  spline S5 degree 3 poles (-39.5481, -17.7976) (-46.2021, -17.7976) (-52.3989, -20.4025) (-56.9975, -25.1324) knots 0 0 0 0 1 1 1 1
  spline S6 degree 3 poles (-56.9975, -25.1324) (-61.5558, -29.8211) (-64.0662, -36.0914) (-64.0662, -42.7885) knots 0 0 0 0 1 1 1 1
  spline S7 degree 3 poles (-64.0662, -42.7885) (-64.0659, -49.7273) (-61.3819, -59.0418) (-57.2282, -66.5179) knots 0 0 0 0 1 1 1 1
  spline S8 degree 3 poles (-39.5479, -20.7371) (-27.4477, -20.7371) (-17.9696, -30.4232) (-17.9696, -42.7885) knots 0 0 0 0 1 1 1 1
  spline S9 degree 3 poles (-17.9696, -42.7885) (-17.9696, -55.9058) (-28.0548, -77.6065) (-39.5479, -77.6065) knots 0 0 0 0 1 1 1 1
  spline S10 degree 3 poles (-39.5479, -77.6065) (-51.041, -77.6065) (-61.1261, -55.9058) (-61.1261, -42.7885) knots 0 0 0 0 1 1 1 1
  spline S11 degree 3 poles (-61.1261, -42.7885) (-61.1262, -30.4232) (-51.648, -20.7371) (-39.5479, -20.7371) knots 0 0 0 0 1 1 1 1
sketch "Skizze9" plane through (0, 0, 30) normal (0, 0, 1) x (-1, 0, 0)
  line L0 (-83.25, -22) -> (-78, -22)
  line L1 (-78, -22) -> (-78, -1.75)
  line L2 (-78, -1.75) -> (-7, -1.75)
  line L3 (-7, -1.75) -> (-7, -7)
  line L4 (-7, -7) -> (-1.75, -7)
  line L5 (-1.75, -7) -> (-1.75, -93)
  line L6 (-1.75, -93) -> (-7, -93)
  line L7 (-7, -93) -> (-7, -113.25)
  line L8 (-7, -113.25) -> (-78, -113.25)
  line L9 (-78, -113.25) -> (-78, -108)
  line L10 (-78, -108) -> (-83.25, -108)
  line L11 (-83.25, -108) -> (-83.25, -22)
  circle A0 centre (-81.5, -3.5) radius 2.65
  circle A1 centre (-81.5, -111.5) radius 2.65
  circle A2 centre (-3.5, -3.5) radius 2.65
  circle A3 centre (-3.5, -111.5) radius 2.65
  line L12 (0, -115) -> (0, 0)
  line L13 (0, 0) -> (-85, 0)
  line L14 (-85, 0) -> (-85, -115)
  line L15 (-85, -115) -> (0, -115)
  line L16 (-7, -93) -> (-1.75, -93)
  line L17 (-1.75, -93) -> (-1.75, -108)
  line L18 (-1.75, -108) -> (-7, -108)
  line L19 (-7, -108) -> (-7, -93)
  line L20 (-78, -22) -> (-83.25, -22)
  line L21 (-83.25, -22) -> (-83.25, -7)
  line L22 (-83.25, -7) -> (-78, -7)
  line L23 (-78, -7) -> (-78, -22)
  dimension "d55" = 1.75
  dimension "d56" = 7
  dimension "d57" = 1.75
  dimension "d58" = 7
extrude "Extrusion7" [suppressed]
sketch "Skizze10" plane through (0, 0, 1.75) normal (0, 0, 1) x (-1, 0, 0)
  line L0 (-7, -7) -> (-7, -1.75)
  line L1 (-7, -1.75) -> (-78, -1.75)
  line L2 (-78, -1.75) -> (-78, -7)
  line L3 (-78, -7) -> (-83.25, -7)
  line L4 (-83.25, -7) -> (-83.25, -108)
  line L5 (-83.25, -108) -> (-78, -108)
  line L6 (-78, -108) -> (-78, -113.25)
  line L7 (-78, -113.25) -> (-7, -113.25)
  line L8 (-7, -113.25) -> (-7, -108)
  line L9 (-7, -108) -> (-1.75, -108)
  line L10 (-1.75, -108) -> (-1.75, -7)
  line L11 (-1.75, -7) -> (-7, -7)
  spline S0 degree 3 poles (-64.8028, -78.627) (-58.4872, -89.9936) (-50.5977, -96.2538) (-42.5872, -96.2538) knots 0 0 0 0 1 1 1 1
  spline S1 degree 3 poles (-42.5872, -96.2538) (-34.5767, -96.2538) (-26.6876, -89.9936) (-20.3717, -78.627) knots 0 0 0 0 1 1 1 1
  spline S2 degree 3 poles (-20.3717, -78.627) (-15.1525, -69.2328) (-11.78, -57.5294) (-11.78, -48.8107) knots 0 0 0 0 1 1 1 1
  spline S3 degree 3 poles (-11.78, -48.8107) (-11.78, -40.3957) (-14.9343, -32.5167) (-20.6623, -26.6256) knots 0 0 0 0 1 1 1 1
  spline S4 degree 3 poles (-20.6623, -26.6256) (-26.4404, -20.6822) (-34.2268, -17.4094) (-42.5875, -17.4094) knots 0 0 0 0 1 1 1 1
  spline S5 degree 3 poles (-42.5875, -17.4094) (-50.9483, -17.4094) (-58.7346, -20.6825) (-64.5128, -26.6256) knots 0 0 0 0 1 1 1 1
  spline S6 degree 3 poles (-64.5128, -26.6256) (-70.2404, -32.517) (-73.3947, -40.3957) (-73.3947, -48.8107) knots 0 0 0 0 1 1 1 1
  spline S7 degree 3 poles (-73.3947, -48.8107) (-73.3944, -57.5294) (-70.0219, -69.2331) (-64.8028, -78.627) knots 0 0 0 0 1 1 1 1
  spline S8 degree 3 poles (-42.5872, -21.103) (-27.3832, -21.103) (-15.4739, -33.2736) (-15.4739, -48.8107) knots 0 0 0 0 1 1 1 1
  spline S9 degree 3 poles (-15.4739, -48.8107) (-15.4739, -65.2927) (-28.146, -92.5599) (-42.5872, -92.5599) knots 0 0 0 0 1 1 1 1
  spline S10 degree 3 poles (-42.5872, -92.5599) (-57.0284, -92.5599) (-69.7005, -65.2927) (-69.7005, -48.8107) knots 0 0 0 0 1 1 1 1
  spline S11 degree 3 poles (-69.7005, -48.8107) (-69.7005, -33.2736) (-57.7912, -21.103) (-42.5872, -21.103) knots 0 0 0 0 1 1 1 1
extrude "Extrusion8" [suppressed]
extrude "Extrusion6" [suppressed]
sketch "Skizze8" plane through (0, 0, 30) normal (0, 0, 1) x (-1, 0, 0)
  line L0 (-78, -7) -> (-78, -1.75)
  line L1 (-78, -1.75) -> (-7, -1.75)
  line L2 (-7, -1.75) -> (-7, -7)
  line L3 (-7, -7) -> (-1.75, -7)
  line L4 (-1.75, -7) -> (-1.75, -108)
  line L5 (-7, -113.25) -> (-78, -113.25)
  line L6 (-78, -113.25) -> (-78, -108)
  line L7 (-78, -108) -> (-83.25, -108)
  line L8 (-83.25, -108) -> (-83.25, -7)
  circle A0 centre (-81.5, -3.5) radius 2.65
  circle A1 centre (-81.5, -111.5) radius 2.65
  circle A2 centre (-3.5, -3.5) radius 2.65
  circle A3 centre (-3.5, -111.5) radius 2.65
  line L9 (0, -115) -> (0, 0)
  line L10 (0, 0) -> (-85, 0)
  line L11 (-85, 0) -> (-85, -115)
  line L12 (-85, -115) -> (0, -115)
  line L13 (-7, -93) -> (-2, -93)
  line L14 (-2, -93) -> (-2, -108)
  line L15 (-2, -108) -> (-7, -108)
  line L16 (-7, -108) -> (-7, -93)
  line L17 (-83.25, -7) -> (-78, -7)
  line L18 (-1.75, -108) -> (-7, -108)
  line L19 (-7, -108) -> (-7, -113.25)
  dimension "d53" = 5
  dimension "d54" = 15
equation "d31 = -30 mm + 1.75 mm"
equation "d34 = 100 mm - 14 mm"
equation "d42 = -30 mm + 1.75 mm"
equation "d49 = -30 mm + 1.75 mm"
equation "d59 = -30 mm + 1.75 mm"
equation "d94 = -30 mm + 1.75 mm"
equation "d136 = -35 mm + 1.75 mm"
equation "d184 = -35 mm + 1.75 mm"
